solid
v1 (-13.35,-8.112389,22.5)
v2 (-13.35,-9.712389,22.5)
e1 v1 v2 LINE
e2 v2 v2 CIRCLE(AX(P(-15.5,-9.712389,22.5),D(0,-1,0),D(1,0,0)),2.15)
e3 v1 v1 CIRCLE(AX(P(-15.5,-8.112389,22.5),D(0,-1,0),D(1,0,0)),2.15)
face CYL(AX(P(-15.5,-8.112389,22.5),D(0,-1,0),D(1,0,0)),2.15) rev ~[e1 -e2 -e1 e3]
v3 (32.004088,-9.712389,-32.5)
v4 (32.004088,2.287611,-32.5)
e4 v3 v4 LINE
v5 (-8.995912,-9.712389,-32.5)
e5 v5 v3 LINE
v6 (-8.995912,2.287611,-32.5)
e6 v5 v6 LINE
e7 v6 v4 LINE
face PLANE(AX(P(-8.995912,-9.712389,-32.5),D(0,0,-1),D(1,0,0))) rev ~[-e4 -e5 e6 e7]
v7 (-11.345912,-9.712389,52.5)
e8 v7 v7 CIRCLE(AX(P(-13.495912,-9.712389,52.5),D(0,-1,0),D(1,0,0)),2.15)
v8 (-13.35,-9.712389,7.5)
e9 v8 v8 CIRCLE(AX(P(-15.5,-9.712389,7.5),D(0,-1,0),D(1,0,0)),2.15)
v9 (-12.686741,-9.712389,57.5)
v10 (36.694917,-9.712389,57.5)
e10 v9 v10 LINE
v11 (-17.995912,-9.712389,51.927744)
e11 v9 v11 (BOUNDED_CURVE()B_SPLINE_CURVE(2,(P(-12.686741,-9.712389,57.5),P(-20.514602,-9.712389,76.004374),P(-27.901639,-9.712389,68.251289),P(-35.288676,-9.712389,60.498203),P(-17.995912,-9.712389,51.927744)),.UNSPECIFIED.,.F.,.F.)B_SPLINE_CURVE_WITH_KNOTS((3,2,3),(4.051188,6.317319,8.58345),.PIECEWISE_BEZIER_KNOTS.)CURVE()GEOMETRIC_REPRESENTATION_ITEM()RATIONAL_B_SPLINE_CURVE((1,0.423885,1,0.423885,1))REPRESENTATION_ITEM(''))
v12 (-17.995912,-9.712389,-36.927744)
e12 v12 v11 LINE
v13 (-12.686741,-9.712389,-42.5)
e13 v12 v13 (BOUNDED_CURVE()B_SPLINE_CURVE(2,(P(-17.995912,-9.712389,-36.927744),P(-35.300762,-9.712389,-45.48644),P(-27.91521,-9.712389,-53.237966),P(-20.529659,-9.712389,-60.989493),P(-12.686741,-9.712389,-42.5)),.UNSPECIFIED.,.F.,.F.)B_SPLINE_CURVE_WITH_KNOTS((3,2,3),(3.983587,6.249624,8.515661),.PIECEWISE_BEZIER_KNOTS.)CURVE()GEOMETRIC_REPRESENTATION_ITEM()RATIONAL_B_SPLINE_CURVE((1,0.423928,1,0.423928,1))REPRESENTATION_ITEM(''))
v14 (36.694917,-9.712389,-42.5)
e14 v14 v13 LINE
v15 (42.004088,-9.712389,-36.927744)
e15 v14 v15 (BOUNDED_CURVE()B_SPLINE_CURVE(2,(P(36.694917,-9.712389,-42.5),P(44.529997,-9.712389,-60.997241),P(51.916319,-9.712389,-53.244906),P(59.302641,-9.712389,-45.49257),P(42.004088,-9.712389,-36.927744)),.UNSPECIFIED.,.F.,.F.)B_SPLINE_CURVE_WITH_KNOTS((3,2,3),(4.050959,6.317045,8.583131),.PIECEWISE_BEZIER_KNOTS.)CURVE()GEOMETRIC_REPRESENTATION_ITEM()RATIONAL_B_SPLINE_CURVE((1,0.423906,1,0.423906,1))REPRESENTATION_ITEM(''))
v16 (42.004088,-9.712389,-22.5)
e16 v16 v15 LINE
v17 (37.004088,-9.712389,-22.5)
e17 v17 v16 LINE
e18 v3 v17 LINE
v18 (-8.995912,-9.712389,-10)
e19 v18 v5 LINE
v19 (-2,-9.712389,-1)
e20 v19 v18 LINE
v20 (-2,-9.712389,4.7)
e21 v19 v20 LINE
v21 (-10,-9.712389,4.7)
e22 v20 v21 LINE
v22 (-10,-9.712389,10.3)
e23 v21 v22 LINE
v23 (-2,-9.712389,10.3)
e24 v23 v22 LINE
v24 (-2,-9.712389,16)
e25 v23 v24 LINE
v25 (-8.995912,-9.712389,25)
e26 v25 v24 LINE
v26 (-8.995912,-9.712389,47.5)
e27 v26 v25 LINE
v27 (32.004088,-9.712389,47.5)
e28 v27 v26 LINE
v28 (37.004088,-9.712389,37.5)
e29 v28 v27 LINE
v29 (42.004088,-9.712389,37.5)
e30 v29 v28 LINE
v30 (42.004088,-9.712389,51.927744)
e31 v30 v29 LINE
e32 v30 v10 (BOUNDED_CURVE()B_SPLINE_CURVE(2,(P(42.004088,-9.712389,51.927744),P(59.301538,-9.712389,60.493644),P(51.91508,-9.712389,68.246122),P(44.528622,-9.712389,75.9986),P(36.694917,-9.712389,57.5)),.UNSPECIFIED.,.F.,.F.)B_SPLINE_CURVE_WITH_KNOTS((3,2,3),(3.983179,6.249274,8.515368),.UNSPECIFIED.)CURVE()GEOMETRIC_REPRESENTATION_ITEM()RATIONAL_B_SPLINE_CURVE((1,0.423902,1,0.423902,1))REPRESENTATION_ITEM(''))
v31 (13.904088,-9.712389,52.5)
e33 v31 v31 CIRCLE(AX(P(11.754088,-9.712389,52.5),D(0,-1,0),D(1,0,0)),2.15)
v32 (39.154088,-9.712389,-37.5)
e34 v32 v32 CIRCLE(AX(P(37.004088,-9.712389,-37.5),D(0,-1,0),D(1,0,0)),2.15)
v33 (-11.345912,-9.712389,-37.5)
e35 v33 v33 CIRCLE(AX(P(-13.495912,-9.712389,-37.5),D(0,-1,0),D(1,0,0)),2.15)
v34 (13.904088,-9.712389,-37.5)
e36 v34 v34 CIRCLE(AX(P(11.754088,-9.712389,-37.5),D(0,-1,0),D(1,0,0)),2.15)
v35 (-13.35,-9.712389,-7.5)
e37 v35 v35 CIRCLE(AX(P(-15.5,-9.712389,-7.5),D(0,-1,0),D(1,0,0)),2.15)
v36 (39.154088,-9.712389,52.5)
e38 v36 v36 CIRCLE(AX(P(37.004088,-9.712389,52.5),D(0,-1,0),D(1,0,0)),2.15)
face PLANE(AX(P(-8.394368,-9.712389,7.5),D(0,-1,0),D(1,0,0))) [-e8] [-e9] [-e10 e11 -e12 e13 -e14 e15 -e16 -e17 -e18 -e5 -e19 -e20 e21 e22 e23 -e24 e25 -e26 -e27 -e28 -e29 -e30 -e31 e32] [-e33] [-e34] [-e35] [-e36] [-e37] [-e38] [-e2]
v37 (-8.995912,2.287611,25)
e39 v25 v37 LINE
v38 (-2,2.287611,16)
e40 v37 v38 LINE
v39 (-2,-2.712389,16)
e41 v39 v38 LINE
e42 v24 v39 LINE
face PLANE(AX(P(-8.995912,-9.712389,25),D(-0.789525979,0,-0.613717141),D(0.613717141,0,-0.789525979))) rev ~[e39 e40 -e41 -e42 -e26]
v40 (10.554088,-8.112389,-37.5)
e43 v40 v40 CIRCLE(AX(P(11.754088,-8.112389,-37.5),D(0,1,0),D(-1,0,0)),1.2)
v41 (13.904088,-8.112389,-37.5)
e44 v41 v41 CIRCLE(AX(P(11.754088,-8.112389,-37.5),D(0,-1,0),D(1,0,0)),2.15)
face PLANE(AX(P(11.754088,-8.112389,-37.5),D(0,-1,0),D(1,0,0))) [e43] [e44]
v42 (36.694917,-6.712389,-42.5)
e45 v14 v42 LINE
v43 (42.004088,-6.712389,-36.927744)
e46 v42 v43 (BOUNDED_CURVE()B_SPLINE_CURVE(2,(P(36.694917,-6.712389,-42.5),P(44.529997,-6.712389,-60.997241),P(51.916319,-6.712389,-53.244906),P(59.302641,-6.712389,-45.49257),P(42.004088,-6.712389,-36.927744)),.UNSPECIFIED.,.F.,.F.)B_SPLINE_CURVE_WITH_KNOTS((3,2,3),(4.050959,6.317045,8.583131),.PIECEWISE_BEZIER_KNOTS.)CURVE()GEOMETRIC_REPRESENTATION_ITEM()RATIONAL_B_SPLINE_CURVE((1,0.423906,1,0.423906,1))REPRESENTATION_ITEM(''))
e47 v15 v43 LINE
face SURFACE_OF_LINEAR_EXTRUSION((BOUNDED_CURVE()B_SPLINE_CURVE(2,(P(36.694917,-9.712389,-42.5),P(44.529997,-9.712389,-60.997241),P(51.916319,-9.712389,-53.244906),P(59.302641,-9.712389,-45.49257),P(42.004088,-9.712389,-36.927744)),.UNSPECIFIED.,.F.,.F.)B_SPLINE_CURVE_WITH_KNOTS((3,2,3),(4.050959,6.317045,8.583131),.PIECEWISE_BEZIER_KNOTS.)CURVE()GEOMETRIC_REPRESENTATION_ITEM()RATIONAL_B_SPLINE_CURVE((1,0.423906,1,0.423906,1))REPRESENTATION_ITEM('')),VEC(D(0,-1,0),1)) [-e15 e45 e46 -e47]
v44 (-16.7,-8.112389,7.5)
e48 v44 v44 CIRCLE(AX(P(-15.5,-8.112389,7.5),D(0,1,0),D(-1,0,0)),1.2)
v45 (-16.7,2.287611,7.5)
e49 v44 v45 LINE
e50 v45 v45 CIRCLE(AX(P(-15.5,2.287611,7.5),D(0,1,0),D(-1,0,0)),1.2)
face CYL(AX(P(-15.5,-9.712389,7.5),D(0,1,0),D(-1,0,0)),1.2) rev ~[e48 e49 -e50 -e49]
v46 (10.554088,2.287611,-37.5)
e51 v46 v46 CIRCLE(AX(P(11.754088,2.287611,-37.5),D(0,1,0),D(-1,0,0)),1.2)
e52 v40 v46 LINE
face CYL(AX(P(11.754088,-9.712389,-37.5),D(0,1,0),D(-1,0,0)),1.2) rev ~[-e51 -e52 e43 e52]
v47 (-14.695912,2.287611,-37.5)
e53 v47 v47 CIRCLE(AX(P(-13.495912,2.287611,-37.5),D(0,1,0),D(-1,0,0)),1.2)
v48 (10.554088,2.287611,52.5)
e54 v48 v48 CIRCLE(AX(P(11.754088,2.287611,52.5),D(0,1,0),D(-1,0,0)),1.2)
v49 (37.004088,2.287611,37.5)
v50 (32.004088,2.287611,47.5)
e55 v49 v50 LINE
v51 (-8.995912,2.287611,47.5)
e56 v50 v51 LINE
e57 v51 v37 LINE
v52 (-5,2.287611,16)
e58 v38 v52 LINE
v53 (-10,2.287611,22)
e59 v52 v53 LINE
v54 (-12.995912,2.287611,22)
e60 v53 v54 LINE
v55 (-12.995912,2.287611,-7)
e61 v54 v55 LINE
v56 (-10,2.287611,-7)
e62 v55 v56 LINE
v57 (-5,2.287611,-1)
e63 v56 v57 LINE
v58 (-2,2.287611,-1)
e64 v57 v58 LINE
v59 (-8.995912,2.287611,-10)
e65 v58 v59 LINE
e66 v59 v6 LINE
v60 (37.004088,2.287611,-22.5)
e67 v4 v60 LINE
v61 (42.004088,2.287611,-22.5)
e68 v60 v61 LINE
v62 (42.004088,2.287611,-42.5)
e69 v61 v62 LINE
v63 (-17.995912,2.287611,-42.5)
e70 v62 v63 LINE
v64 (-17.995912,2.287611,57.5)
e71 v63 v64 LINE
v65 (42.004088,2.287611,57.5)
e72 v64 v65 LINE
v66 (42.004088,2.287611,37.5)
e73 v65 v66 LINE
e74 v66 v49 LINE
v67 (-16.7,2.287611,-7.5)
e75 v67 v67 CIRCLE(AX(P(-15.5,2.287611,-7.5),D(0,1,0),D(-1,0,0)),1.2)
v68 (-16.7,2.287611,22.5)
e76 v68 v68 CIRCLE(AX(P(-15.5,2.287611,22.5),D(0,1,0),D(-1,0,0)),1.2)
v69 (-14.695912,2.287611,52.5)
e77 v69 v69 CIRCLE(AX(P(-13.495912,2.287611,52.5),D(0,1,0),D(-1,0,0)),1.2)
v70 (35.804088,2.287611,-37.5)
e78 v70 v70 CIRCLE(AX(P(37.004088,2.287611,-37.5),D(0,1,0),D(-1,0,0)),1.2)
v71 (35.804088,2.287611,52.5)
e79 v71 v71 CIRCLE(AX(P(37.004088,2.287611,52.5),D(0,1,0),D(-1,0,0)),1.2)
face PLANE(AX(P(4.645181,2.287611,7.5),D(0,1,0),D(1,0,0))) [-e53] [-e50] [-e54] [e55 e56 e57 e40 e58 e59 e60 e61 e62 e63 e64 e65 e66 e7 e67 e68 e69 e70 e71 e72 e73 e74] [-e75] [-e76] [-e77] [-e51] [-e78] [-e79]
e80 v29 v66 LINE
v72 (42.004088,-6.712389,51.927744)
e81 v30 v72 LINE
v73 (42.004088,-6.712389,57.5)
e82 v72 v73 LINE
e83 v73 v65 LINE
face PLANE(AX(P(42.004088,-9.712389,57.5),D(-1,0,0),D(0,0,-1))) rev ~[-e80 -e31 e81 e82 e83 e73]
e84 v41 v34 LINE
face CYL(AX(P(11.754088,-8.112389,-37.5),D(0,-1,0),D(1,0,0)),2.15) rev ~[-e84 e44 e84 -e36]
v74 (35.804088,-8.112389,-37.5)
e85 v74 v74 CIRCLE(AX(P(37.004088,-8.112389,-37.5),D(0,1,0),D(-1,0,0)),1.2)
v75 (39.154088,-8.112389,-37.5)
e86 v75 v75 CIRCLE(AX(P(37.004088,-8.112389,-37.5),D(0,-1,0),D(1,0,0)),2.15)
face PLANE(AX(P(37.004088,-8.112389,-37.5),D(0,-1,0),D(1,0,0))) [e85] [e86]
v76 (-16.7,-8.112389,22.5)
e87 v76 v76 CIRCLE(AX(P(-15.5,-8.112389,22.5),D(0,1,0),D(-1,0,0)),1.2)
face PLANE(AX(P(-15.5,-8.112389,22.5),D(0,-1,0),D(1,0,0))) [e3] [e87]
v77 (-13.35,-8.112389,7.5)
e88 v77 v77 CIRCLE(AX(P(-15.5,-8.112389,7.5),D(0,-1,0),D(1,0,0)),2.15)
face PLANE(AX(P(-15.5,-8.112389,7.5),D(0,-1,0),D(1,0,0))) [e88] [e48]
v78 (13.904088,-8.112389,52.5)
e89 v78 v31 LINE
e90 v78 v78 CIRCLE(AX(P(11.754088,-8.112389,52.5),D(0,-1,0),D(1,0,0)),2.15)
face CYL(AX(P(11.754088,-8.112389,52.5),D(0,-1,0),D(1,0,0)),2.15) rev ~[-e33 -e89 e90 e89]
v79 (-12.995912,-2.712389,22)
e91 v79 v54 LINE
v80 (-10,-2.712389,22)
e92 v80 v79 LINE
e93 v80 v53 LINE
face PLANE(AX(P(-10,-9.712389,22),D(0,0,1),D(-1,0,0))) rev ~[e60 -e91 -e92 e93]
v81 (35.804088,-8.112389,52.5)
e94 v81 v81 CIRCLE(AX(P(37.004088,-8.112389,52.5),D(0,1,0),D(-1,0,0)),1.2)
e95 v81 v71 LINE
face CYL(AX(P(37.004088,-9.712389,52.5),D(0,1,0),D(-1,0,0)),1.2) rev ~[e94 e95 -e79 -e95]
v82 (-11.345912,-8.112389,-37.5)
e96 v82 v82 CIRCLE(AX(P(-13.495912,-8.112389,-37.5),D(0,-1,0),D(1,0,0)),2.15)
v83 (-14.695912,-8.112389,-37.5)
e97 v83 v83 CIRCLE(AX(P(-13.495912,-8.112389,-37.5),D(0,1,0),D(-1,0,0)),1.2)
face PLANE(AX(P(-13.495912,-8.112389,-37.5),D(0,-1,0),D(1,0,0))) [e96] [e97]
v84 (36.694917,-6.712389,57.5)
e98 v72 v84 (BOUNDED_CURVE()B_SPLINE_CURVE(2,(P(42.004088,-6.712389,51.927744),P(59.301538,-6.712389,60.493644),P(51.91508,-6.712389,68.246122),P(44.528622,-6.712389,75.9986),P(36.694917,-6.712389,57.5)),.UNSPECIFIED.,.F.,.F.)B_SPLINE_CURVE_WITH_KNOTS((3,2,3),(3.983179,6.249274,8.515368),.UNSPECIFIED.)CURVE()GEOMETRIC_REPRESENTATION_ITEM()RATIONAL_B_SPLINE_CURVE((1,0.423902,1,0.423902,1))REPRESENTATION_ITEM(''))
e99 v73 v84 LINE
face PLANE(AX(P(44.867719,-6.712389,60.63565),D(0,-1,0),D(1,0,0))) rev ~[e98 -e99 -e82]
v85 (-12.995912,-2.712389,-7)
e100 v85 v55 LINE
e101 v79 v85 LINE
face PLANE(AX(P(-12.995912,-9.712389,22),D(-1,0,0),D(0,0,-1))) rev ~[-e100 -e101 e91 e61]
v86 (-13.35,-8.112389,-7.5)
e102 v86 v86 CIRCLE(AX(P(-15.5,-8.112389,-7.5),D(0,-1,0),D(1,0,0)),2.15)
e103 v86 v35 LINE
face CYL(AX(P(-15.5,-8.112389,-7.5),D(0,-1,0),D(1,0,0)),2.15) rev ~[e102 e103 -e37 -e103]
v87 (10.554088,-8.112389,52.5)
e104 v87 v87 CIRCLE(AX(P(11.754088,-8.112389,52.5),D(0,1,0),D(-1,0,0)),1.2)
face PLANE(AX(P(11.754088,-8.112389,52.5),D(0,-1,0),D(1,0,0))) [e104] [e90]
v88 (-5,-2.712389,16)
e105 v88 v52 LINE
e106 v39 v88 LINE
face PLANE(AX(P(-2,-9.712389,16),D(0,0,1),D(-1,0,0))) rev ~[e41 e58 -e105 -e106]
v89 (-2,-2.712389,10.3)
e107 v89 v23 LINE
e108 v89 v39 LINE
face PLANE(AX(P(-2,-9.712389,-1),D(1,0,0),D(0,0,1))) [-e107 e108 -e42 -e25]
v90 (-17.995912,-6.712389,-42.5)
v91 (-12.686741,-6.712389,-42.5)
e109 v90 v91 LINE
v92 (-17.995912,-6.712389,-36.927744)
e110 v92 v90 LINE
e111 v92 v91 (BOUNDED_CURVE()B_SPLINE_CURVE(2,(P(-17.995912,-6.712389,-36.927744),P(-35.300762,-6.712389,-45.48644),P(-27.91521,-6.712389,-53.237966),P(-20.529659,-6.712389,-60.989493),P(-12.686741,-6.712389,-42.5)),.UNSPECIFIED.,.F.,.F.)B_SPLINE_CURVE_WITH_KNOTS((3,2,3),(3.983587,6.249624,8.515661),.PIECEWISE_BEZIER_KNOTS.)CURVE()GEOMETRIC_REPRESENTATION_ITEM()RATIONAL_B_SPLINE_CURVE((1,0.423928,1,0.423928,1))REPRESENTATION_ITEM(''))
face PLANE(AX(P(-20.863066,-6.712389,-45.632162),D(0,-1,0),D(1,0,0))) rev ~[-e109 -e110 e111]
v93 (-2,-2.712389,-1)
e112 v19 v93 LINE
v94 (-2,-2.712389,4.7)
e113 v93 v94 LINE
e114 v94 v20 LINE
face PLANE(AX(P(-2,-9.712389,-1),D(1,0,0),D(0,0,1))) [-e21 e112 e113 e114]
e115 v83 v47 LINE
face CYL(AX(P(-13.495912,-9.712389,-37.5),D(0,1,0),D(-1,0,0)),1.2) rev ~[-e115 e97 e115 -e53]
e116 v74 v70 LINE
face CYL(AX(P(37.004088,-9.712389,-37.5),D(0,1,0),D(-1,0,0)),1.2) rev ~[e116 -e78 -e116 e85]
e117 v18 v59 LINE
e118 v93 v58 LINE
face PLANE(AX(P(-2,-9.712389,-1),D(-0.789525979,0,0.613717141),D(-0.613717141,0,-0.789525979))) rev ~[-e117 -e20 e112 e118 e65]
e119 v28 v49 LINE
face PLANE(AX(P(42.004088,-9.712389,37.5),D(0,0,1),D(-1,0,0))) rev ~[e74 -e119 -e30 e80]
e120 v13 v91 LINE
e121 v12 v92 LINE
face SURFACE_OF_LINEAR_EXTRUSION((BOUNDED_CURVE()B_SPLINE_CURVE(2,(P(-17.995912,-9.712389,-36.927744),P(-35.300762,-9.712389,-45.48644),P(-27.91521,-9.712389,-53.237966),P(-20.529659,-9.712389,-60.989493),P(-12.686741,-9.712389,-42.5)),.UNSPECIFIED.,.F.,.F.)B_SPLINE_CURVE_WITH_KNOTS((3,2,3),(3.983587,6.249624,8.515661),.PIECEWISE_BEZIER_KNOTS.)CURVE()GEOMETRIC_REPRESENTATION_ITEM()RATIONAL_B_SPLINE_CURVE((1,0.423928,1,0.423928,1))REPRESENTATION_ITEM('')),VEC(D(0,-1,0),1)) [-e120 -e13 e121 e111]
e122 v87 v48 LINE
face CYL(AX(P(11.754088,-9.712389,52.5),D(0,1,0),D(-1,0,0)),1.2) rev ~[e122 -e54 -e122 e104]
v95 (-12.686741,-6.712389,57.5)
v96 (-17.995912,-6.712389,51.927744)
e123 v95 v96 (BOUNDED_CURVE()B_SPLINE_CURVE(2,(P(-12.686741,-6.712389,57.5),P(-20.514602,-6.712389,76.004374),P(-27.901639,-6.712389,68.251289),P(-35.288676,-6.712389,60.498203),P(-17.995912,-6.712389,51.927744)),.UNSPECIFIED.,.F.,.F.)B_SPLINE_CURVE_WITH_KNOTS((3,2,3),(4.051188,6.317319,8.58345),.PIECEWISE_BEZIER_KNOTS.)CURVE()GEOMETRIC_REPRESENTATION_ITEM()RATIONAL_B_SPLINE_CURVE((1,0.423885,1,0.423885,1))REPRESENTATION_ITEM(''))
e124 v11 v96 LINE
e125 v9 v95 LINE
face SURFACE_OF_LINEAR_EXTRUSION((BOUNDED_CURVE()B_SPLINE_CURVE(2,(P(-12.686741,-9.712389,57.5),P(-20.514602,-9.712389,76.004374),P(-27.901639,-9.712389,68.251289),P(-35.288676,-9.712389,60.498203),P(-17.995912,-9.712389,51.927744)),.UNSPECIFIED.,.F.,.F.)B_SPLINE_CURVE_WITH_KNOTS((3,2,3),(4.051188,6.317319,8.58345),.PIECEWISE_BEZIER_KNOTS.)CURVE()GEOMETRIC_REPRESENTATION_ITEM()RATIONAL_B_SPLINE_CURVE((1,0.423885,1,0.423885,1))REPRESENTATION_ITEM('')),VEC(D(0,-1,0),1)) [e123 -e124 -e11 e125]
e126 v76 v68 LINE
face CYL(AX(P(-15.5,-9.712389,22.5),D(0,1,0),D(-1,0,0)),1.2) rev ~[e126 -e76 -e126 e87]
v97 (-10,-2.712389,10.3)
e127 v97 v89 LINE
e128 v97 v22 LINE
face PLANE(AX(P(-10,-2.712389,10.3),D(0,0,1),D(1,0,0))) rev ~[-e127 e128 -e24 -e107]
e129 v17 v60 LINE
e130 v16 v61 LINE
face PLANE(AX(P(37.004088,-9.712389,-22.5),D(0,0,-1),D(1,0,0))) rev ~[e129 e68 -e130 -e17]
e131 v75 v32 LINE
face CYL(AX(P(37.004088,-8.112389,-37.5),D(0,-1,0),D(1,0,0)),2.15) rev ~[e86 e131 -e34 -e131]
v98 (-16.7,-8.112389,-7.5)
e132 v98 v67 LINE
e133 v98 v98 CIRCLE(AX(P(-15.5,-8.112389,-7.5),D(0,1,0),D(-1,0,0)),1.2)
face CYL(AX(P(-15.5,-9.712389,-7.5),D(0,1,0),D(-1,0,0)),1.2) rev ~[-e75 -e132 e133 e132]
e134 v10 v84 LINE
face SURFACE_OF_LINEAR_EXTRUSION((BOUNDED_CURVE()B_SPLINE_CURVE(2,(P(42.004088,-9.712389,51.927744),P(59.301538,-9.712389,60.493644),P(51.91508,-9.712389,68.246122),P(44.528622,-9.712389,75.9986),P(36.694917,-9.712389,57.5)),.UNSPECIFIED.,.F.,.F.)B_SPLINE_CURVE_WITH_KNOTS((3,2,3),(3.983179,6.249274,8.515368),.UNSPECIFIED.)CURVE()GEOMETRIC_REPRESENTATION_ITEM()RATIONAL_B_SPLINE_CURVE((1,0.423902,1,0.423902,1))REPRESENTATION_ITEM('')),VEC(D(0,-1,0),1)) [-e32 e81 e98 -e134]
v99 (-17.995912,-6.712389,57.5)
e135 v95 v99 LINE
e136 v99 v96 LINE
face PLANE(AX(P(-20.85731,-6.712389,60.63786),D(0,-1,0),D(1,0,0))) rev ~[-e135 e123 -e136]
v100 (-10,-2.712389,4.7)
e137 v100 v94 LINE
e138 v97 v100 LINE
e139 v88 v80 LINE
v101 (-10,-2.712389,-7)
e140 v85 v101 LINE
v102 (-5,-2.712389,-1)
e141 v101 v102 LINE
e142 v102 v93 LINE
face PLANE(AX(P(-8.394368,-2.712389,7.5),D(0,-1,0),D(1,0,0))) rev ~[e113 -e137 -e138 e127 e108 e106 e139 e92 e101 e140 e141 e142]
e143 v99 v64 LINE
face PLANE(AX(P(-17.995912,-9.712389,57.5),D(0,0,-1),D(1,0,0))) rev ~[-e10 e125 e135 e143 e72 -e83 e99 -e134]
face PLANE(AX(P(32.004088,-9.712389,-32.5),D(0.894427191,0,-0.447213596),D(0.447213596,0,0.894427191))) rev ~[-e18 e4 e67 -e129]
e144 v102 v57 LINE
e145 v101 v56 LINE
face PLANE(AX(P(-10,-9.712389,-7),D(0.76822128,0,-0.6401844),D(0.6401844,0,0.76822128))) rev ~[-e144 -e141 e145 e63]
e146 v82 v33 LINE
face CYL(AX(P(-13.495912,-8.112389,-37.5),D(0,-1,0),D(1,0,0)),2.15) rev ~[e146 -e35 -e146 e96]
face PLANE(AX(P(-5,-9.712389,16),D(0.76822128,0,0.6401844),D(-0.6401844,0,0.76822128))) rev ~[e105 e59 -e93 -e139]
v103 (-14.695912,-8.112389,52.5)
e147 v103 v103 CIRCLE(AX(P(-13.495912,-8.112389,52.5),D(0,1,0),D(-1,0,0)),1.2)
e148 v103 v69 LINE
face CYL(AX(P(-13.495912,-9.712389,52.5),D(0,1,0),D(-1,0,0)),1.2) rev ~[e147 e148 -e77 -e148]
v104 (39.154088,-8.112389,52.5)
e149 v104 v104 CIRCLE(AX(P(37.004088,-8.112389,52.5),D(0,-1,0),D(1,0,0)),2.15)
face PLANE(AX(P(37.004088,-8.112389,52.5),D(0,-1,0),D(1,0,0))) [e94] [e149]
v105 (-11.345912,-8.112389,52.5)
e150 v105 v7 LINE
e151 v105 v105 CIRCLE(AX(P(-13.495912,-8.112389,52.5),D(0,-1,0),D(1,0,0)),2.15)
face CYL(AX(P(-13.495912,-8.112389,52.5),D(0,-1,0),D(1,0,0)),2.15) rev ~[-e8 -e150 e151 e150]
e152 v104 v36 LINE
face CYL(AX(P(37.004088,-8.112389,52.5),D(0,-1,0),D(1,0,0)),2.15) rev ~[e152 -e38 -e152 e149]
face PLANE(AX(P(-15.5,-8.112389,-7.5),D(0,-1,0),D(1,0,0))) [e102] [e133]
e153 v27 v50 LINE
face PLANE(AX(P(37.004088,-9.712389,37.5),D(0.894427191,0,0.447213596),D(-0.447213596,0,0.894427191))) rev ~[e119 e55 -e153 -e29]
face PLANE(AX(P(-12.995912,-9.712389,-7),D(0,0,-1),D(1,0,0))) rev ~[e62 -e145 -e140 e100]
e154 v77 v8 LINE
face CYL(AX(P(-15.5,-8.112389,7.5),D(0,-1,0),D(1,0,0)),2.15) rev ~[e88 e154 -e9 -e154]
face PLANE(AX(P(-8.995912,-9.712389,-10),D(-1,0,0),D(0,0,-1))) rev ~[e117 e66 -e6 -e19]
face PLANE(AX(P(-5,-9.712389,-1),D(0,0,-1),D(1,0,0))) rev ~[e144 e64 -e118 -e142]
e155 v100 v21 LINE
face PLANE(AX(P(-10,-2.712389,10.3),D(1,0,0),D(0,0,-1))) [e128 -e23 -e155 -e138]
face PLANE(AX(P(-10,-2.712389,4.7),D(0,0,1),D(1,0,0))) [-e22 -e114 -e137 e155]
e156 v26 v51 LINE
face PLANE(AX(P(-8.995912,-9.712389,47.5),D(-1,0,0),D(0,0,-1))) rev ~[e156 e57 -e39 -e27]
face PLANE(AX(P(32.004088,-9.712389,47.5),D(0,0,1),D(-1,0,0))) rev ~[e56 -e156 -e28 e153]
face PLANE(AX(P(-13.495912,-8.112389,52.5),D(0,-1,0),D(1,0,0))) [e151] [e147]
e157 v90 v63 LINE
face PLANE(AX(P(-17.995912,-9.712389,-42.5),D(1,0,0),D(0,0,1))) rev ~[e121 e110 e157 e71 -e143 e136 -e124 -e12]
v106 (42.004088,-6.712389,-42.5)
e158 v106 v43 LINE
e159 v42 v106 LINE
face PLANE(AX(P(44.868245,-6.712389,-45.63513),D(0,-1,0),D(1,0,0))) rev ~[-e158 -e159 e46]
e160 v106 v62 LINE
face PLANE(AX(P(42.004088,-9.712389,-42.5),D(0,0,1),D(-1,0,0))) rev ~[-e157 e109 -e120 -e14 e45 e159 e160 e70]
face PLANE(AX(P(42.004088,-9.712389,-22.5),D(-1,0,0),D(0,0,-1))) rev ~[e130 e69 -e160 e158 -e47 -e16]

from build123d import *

# Parameters (mm, degrees)
PAD_DEPTH           = 12
HOLE_D              = 2.4
HOLE_CBORE_D        = 4.3
HOLE_CBORE_DEPTH    = 1.6
HOLE001_D           = 2.4
HOLE001_CBORE_D     = 4.3
HOLE001_CBORE_DEPTH = 1.6
PAD001_DEPTH        = 3
PAD002_DEPTH        = 7
SKETCH005_W         = 10
SKETCH005_H         = 5.6
POCKET_DEPTH        = 7.001


with BuildPart() as part:
    # Sketch001 → Pad (new body)
    with BuildSketch(Plane(origin=(-8.845912, -9.712389, 7.5), x_dir=(1, 0, 0), z_dir=(0, 1, 0))):
        Polygon((3.845912, -8.5), (-1.154088, -14.5), (-4.15, -14.5), (-4.15, 14.5), (-1.154088, 14.5), (3.845912, 8.5), (6.845912, 8.5), (-0.15, 17.5), (-0.15, 40), (40.85, 40), (45.85, 30), (50.85, 30), (50.85, 50), (-9.15, 50), (-9.15, 17.5), (-9.15, -17.5), (-9.15, -50), (50.85, -50), (50.85, -30), (45.85, -30), (40.85, -40), (-0.15, -40), (-0.15, -17.5), (6.845912, -8.5), align=None)
    extrude(amount=PAD_DEPTH)

    # Hole (through all)
    with Locations(Plane(origin=(-8.845912, -9.712389, 7.5), x_dir=(1, 0, 0), z_dir=(0, -1, 0))):
        with Locations((-6.654088, 0), (-6.654088, 15), (-6.654088, -15)):
            CounterBoreHole(HOLE_D / 2, HOLE_CBORE_D / 2, HOLE_CBORE_DEPTH)

    # Hole001 (through all)
    with Locations(Plane(origin=(-8.845912, -9.712389, 7.5), x_dir=(1, 0, 0), z_dir=(0, -1, 0))):
        with Locations((20.6, 45), (20.6, -45), (-4.65, -45), (45.85, -45), (-4.65, 45), (45.85, 45)):
            CounterBoreHole(HOLE001_D / 2, HOLE001_CBORE_D / 2, HOLE001_CBORE_DEPTH)

    # Sketch003 (on Face4 of Hole001) → Pad001 (join)
    with BuildSketch(Plane(origin=(-8.845912, -9.712389, 7.5), x_dir=(1, 0, 0), z_dir=(0, -1, 0))):
        with BuildLine():
            add(Edge.make_bspline(
                [(-3.840829, 50), (-11.66869, 68.504374), (-19.055727, 60.751289), (-26.442764, 52.998203), (-9.15, 44.427744)],
                knots=[4.051188, 4.051188, 4.051188, 6.317319, 6.317319, 8.58345, 8.58345, 8.58345], degree=2, weights=[1, 0.423885, 1, 0.423885, 1]))
            Line((-9.15, 44.427744), (-3.840829, 50))
        make_face()
        with BuildLine():
            add(Edge.make_bspline(
                [(50.85, 44.427744), (68.14745, 52.993644), (60.760992, 60.746122), (53.374534, 68.4986), (45.540829, 50)],
                knots=[3.983179, 3.983179, 3.983179, 6.249274, 6.249274, 8.515368, 8.515368, 8.515368], degree=2, weights=[1, 0.423902, 1, 0.423902, 1]))
            Line((45.540829, 50), (50.85, 44.427744))
        make_face()
        with BuildLine():
            add(Edge.make_bspline(
                [(-9.15, -44.427744), (-26.45485, -52.98644), (-19.069298, -60.737966), (-11.683747, -68.489493), (-3.840829, -50)],
                knots=[3.983587, 3.983587, 3.983587, 6.249624, 6.249624, 8.515661, 8.515661, 8.515661], degree=2, weights=[1, 0.423928, 1, 0.423928, 1]))
            Line((-3.840829, -50), (-9.15, -44.427744))
        make_face()
        with BuildLine():
            add(Edge.make_bspline(
                [(45.540829, -50), (53.375909, -68.497241), (60.762231, -60.744906), (68.148553, -52.99257), (50.85, -44.427744)],
                knots=[4.050959, 4.050959, 4.050959, 6.317045, 6.317045, 8.583131, 8.583131, 8.583131], degree=2, weights=[1, 0.423906, 1, 0.423906, 1]))
            Line((50.85, -44.427744), (45.540829, -50))
        make_face()
    extrude(amount=-PAD001_DEPTH)

    # Sketch004 (on Face4 of Pad001) → Pad002 (join)
    with BuildSketch(Plane(origin=(-8.845912, -9.712389, 7.5), x_dir=(1, 0, 0), z_dir=(0, -1, 0))):
        Polygon((-4.15, 14.5), (-4.15, -14.5), (-1.154088, -14.5), (3.845912, -8.5), (6.845912, -8.5), (6.845912, 8.5), (3.845912, 8.5), (-1.154088, 14.5), align=None)
    extrude(amount=-PAD002_DEPTH)

    # Sketch005 (on Face10 of Pad002) → Pocket (cut, through all)
    with BuildSketch(Plane(origin=(-8.845912, -2.712389, 7.5), x_dir=(1, 0, 0), z_dir=(0, 1, 0))):
        with Locations((3.845912, 0)):
            Rectangle(SKETCH005_W, SKETCH005_H)
    extrude(amount=-POCKET_DEPTH, mode=Mode.SUBTRACT)


solid = part.part
